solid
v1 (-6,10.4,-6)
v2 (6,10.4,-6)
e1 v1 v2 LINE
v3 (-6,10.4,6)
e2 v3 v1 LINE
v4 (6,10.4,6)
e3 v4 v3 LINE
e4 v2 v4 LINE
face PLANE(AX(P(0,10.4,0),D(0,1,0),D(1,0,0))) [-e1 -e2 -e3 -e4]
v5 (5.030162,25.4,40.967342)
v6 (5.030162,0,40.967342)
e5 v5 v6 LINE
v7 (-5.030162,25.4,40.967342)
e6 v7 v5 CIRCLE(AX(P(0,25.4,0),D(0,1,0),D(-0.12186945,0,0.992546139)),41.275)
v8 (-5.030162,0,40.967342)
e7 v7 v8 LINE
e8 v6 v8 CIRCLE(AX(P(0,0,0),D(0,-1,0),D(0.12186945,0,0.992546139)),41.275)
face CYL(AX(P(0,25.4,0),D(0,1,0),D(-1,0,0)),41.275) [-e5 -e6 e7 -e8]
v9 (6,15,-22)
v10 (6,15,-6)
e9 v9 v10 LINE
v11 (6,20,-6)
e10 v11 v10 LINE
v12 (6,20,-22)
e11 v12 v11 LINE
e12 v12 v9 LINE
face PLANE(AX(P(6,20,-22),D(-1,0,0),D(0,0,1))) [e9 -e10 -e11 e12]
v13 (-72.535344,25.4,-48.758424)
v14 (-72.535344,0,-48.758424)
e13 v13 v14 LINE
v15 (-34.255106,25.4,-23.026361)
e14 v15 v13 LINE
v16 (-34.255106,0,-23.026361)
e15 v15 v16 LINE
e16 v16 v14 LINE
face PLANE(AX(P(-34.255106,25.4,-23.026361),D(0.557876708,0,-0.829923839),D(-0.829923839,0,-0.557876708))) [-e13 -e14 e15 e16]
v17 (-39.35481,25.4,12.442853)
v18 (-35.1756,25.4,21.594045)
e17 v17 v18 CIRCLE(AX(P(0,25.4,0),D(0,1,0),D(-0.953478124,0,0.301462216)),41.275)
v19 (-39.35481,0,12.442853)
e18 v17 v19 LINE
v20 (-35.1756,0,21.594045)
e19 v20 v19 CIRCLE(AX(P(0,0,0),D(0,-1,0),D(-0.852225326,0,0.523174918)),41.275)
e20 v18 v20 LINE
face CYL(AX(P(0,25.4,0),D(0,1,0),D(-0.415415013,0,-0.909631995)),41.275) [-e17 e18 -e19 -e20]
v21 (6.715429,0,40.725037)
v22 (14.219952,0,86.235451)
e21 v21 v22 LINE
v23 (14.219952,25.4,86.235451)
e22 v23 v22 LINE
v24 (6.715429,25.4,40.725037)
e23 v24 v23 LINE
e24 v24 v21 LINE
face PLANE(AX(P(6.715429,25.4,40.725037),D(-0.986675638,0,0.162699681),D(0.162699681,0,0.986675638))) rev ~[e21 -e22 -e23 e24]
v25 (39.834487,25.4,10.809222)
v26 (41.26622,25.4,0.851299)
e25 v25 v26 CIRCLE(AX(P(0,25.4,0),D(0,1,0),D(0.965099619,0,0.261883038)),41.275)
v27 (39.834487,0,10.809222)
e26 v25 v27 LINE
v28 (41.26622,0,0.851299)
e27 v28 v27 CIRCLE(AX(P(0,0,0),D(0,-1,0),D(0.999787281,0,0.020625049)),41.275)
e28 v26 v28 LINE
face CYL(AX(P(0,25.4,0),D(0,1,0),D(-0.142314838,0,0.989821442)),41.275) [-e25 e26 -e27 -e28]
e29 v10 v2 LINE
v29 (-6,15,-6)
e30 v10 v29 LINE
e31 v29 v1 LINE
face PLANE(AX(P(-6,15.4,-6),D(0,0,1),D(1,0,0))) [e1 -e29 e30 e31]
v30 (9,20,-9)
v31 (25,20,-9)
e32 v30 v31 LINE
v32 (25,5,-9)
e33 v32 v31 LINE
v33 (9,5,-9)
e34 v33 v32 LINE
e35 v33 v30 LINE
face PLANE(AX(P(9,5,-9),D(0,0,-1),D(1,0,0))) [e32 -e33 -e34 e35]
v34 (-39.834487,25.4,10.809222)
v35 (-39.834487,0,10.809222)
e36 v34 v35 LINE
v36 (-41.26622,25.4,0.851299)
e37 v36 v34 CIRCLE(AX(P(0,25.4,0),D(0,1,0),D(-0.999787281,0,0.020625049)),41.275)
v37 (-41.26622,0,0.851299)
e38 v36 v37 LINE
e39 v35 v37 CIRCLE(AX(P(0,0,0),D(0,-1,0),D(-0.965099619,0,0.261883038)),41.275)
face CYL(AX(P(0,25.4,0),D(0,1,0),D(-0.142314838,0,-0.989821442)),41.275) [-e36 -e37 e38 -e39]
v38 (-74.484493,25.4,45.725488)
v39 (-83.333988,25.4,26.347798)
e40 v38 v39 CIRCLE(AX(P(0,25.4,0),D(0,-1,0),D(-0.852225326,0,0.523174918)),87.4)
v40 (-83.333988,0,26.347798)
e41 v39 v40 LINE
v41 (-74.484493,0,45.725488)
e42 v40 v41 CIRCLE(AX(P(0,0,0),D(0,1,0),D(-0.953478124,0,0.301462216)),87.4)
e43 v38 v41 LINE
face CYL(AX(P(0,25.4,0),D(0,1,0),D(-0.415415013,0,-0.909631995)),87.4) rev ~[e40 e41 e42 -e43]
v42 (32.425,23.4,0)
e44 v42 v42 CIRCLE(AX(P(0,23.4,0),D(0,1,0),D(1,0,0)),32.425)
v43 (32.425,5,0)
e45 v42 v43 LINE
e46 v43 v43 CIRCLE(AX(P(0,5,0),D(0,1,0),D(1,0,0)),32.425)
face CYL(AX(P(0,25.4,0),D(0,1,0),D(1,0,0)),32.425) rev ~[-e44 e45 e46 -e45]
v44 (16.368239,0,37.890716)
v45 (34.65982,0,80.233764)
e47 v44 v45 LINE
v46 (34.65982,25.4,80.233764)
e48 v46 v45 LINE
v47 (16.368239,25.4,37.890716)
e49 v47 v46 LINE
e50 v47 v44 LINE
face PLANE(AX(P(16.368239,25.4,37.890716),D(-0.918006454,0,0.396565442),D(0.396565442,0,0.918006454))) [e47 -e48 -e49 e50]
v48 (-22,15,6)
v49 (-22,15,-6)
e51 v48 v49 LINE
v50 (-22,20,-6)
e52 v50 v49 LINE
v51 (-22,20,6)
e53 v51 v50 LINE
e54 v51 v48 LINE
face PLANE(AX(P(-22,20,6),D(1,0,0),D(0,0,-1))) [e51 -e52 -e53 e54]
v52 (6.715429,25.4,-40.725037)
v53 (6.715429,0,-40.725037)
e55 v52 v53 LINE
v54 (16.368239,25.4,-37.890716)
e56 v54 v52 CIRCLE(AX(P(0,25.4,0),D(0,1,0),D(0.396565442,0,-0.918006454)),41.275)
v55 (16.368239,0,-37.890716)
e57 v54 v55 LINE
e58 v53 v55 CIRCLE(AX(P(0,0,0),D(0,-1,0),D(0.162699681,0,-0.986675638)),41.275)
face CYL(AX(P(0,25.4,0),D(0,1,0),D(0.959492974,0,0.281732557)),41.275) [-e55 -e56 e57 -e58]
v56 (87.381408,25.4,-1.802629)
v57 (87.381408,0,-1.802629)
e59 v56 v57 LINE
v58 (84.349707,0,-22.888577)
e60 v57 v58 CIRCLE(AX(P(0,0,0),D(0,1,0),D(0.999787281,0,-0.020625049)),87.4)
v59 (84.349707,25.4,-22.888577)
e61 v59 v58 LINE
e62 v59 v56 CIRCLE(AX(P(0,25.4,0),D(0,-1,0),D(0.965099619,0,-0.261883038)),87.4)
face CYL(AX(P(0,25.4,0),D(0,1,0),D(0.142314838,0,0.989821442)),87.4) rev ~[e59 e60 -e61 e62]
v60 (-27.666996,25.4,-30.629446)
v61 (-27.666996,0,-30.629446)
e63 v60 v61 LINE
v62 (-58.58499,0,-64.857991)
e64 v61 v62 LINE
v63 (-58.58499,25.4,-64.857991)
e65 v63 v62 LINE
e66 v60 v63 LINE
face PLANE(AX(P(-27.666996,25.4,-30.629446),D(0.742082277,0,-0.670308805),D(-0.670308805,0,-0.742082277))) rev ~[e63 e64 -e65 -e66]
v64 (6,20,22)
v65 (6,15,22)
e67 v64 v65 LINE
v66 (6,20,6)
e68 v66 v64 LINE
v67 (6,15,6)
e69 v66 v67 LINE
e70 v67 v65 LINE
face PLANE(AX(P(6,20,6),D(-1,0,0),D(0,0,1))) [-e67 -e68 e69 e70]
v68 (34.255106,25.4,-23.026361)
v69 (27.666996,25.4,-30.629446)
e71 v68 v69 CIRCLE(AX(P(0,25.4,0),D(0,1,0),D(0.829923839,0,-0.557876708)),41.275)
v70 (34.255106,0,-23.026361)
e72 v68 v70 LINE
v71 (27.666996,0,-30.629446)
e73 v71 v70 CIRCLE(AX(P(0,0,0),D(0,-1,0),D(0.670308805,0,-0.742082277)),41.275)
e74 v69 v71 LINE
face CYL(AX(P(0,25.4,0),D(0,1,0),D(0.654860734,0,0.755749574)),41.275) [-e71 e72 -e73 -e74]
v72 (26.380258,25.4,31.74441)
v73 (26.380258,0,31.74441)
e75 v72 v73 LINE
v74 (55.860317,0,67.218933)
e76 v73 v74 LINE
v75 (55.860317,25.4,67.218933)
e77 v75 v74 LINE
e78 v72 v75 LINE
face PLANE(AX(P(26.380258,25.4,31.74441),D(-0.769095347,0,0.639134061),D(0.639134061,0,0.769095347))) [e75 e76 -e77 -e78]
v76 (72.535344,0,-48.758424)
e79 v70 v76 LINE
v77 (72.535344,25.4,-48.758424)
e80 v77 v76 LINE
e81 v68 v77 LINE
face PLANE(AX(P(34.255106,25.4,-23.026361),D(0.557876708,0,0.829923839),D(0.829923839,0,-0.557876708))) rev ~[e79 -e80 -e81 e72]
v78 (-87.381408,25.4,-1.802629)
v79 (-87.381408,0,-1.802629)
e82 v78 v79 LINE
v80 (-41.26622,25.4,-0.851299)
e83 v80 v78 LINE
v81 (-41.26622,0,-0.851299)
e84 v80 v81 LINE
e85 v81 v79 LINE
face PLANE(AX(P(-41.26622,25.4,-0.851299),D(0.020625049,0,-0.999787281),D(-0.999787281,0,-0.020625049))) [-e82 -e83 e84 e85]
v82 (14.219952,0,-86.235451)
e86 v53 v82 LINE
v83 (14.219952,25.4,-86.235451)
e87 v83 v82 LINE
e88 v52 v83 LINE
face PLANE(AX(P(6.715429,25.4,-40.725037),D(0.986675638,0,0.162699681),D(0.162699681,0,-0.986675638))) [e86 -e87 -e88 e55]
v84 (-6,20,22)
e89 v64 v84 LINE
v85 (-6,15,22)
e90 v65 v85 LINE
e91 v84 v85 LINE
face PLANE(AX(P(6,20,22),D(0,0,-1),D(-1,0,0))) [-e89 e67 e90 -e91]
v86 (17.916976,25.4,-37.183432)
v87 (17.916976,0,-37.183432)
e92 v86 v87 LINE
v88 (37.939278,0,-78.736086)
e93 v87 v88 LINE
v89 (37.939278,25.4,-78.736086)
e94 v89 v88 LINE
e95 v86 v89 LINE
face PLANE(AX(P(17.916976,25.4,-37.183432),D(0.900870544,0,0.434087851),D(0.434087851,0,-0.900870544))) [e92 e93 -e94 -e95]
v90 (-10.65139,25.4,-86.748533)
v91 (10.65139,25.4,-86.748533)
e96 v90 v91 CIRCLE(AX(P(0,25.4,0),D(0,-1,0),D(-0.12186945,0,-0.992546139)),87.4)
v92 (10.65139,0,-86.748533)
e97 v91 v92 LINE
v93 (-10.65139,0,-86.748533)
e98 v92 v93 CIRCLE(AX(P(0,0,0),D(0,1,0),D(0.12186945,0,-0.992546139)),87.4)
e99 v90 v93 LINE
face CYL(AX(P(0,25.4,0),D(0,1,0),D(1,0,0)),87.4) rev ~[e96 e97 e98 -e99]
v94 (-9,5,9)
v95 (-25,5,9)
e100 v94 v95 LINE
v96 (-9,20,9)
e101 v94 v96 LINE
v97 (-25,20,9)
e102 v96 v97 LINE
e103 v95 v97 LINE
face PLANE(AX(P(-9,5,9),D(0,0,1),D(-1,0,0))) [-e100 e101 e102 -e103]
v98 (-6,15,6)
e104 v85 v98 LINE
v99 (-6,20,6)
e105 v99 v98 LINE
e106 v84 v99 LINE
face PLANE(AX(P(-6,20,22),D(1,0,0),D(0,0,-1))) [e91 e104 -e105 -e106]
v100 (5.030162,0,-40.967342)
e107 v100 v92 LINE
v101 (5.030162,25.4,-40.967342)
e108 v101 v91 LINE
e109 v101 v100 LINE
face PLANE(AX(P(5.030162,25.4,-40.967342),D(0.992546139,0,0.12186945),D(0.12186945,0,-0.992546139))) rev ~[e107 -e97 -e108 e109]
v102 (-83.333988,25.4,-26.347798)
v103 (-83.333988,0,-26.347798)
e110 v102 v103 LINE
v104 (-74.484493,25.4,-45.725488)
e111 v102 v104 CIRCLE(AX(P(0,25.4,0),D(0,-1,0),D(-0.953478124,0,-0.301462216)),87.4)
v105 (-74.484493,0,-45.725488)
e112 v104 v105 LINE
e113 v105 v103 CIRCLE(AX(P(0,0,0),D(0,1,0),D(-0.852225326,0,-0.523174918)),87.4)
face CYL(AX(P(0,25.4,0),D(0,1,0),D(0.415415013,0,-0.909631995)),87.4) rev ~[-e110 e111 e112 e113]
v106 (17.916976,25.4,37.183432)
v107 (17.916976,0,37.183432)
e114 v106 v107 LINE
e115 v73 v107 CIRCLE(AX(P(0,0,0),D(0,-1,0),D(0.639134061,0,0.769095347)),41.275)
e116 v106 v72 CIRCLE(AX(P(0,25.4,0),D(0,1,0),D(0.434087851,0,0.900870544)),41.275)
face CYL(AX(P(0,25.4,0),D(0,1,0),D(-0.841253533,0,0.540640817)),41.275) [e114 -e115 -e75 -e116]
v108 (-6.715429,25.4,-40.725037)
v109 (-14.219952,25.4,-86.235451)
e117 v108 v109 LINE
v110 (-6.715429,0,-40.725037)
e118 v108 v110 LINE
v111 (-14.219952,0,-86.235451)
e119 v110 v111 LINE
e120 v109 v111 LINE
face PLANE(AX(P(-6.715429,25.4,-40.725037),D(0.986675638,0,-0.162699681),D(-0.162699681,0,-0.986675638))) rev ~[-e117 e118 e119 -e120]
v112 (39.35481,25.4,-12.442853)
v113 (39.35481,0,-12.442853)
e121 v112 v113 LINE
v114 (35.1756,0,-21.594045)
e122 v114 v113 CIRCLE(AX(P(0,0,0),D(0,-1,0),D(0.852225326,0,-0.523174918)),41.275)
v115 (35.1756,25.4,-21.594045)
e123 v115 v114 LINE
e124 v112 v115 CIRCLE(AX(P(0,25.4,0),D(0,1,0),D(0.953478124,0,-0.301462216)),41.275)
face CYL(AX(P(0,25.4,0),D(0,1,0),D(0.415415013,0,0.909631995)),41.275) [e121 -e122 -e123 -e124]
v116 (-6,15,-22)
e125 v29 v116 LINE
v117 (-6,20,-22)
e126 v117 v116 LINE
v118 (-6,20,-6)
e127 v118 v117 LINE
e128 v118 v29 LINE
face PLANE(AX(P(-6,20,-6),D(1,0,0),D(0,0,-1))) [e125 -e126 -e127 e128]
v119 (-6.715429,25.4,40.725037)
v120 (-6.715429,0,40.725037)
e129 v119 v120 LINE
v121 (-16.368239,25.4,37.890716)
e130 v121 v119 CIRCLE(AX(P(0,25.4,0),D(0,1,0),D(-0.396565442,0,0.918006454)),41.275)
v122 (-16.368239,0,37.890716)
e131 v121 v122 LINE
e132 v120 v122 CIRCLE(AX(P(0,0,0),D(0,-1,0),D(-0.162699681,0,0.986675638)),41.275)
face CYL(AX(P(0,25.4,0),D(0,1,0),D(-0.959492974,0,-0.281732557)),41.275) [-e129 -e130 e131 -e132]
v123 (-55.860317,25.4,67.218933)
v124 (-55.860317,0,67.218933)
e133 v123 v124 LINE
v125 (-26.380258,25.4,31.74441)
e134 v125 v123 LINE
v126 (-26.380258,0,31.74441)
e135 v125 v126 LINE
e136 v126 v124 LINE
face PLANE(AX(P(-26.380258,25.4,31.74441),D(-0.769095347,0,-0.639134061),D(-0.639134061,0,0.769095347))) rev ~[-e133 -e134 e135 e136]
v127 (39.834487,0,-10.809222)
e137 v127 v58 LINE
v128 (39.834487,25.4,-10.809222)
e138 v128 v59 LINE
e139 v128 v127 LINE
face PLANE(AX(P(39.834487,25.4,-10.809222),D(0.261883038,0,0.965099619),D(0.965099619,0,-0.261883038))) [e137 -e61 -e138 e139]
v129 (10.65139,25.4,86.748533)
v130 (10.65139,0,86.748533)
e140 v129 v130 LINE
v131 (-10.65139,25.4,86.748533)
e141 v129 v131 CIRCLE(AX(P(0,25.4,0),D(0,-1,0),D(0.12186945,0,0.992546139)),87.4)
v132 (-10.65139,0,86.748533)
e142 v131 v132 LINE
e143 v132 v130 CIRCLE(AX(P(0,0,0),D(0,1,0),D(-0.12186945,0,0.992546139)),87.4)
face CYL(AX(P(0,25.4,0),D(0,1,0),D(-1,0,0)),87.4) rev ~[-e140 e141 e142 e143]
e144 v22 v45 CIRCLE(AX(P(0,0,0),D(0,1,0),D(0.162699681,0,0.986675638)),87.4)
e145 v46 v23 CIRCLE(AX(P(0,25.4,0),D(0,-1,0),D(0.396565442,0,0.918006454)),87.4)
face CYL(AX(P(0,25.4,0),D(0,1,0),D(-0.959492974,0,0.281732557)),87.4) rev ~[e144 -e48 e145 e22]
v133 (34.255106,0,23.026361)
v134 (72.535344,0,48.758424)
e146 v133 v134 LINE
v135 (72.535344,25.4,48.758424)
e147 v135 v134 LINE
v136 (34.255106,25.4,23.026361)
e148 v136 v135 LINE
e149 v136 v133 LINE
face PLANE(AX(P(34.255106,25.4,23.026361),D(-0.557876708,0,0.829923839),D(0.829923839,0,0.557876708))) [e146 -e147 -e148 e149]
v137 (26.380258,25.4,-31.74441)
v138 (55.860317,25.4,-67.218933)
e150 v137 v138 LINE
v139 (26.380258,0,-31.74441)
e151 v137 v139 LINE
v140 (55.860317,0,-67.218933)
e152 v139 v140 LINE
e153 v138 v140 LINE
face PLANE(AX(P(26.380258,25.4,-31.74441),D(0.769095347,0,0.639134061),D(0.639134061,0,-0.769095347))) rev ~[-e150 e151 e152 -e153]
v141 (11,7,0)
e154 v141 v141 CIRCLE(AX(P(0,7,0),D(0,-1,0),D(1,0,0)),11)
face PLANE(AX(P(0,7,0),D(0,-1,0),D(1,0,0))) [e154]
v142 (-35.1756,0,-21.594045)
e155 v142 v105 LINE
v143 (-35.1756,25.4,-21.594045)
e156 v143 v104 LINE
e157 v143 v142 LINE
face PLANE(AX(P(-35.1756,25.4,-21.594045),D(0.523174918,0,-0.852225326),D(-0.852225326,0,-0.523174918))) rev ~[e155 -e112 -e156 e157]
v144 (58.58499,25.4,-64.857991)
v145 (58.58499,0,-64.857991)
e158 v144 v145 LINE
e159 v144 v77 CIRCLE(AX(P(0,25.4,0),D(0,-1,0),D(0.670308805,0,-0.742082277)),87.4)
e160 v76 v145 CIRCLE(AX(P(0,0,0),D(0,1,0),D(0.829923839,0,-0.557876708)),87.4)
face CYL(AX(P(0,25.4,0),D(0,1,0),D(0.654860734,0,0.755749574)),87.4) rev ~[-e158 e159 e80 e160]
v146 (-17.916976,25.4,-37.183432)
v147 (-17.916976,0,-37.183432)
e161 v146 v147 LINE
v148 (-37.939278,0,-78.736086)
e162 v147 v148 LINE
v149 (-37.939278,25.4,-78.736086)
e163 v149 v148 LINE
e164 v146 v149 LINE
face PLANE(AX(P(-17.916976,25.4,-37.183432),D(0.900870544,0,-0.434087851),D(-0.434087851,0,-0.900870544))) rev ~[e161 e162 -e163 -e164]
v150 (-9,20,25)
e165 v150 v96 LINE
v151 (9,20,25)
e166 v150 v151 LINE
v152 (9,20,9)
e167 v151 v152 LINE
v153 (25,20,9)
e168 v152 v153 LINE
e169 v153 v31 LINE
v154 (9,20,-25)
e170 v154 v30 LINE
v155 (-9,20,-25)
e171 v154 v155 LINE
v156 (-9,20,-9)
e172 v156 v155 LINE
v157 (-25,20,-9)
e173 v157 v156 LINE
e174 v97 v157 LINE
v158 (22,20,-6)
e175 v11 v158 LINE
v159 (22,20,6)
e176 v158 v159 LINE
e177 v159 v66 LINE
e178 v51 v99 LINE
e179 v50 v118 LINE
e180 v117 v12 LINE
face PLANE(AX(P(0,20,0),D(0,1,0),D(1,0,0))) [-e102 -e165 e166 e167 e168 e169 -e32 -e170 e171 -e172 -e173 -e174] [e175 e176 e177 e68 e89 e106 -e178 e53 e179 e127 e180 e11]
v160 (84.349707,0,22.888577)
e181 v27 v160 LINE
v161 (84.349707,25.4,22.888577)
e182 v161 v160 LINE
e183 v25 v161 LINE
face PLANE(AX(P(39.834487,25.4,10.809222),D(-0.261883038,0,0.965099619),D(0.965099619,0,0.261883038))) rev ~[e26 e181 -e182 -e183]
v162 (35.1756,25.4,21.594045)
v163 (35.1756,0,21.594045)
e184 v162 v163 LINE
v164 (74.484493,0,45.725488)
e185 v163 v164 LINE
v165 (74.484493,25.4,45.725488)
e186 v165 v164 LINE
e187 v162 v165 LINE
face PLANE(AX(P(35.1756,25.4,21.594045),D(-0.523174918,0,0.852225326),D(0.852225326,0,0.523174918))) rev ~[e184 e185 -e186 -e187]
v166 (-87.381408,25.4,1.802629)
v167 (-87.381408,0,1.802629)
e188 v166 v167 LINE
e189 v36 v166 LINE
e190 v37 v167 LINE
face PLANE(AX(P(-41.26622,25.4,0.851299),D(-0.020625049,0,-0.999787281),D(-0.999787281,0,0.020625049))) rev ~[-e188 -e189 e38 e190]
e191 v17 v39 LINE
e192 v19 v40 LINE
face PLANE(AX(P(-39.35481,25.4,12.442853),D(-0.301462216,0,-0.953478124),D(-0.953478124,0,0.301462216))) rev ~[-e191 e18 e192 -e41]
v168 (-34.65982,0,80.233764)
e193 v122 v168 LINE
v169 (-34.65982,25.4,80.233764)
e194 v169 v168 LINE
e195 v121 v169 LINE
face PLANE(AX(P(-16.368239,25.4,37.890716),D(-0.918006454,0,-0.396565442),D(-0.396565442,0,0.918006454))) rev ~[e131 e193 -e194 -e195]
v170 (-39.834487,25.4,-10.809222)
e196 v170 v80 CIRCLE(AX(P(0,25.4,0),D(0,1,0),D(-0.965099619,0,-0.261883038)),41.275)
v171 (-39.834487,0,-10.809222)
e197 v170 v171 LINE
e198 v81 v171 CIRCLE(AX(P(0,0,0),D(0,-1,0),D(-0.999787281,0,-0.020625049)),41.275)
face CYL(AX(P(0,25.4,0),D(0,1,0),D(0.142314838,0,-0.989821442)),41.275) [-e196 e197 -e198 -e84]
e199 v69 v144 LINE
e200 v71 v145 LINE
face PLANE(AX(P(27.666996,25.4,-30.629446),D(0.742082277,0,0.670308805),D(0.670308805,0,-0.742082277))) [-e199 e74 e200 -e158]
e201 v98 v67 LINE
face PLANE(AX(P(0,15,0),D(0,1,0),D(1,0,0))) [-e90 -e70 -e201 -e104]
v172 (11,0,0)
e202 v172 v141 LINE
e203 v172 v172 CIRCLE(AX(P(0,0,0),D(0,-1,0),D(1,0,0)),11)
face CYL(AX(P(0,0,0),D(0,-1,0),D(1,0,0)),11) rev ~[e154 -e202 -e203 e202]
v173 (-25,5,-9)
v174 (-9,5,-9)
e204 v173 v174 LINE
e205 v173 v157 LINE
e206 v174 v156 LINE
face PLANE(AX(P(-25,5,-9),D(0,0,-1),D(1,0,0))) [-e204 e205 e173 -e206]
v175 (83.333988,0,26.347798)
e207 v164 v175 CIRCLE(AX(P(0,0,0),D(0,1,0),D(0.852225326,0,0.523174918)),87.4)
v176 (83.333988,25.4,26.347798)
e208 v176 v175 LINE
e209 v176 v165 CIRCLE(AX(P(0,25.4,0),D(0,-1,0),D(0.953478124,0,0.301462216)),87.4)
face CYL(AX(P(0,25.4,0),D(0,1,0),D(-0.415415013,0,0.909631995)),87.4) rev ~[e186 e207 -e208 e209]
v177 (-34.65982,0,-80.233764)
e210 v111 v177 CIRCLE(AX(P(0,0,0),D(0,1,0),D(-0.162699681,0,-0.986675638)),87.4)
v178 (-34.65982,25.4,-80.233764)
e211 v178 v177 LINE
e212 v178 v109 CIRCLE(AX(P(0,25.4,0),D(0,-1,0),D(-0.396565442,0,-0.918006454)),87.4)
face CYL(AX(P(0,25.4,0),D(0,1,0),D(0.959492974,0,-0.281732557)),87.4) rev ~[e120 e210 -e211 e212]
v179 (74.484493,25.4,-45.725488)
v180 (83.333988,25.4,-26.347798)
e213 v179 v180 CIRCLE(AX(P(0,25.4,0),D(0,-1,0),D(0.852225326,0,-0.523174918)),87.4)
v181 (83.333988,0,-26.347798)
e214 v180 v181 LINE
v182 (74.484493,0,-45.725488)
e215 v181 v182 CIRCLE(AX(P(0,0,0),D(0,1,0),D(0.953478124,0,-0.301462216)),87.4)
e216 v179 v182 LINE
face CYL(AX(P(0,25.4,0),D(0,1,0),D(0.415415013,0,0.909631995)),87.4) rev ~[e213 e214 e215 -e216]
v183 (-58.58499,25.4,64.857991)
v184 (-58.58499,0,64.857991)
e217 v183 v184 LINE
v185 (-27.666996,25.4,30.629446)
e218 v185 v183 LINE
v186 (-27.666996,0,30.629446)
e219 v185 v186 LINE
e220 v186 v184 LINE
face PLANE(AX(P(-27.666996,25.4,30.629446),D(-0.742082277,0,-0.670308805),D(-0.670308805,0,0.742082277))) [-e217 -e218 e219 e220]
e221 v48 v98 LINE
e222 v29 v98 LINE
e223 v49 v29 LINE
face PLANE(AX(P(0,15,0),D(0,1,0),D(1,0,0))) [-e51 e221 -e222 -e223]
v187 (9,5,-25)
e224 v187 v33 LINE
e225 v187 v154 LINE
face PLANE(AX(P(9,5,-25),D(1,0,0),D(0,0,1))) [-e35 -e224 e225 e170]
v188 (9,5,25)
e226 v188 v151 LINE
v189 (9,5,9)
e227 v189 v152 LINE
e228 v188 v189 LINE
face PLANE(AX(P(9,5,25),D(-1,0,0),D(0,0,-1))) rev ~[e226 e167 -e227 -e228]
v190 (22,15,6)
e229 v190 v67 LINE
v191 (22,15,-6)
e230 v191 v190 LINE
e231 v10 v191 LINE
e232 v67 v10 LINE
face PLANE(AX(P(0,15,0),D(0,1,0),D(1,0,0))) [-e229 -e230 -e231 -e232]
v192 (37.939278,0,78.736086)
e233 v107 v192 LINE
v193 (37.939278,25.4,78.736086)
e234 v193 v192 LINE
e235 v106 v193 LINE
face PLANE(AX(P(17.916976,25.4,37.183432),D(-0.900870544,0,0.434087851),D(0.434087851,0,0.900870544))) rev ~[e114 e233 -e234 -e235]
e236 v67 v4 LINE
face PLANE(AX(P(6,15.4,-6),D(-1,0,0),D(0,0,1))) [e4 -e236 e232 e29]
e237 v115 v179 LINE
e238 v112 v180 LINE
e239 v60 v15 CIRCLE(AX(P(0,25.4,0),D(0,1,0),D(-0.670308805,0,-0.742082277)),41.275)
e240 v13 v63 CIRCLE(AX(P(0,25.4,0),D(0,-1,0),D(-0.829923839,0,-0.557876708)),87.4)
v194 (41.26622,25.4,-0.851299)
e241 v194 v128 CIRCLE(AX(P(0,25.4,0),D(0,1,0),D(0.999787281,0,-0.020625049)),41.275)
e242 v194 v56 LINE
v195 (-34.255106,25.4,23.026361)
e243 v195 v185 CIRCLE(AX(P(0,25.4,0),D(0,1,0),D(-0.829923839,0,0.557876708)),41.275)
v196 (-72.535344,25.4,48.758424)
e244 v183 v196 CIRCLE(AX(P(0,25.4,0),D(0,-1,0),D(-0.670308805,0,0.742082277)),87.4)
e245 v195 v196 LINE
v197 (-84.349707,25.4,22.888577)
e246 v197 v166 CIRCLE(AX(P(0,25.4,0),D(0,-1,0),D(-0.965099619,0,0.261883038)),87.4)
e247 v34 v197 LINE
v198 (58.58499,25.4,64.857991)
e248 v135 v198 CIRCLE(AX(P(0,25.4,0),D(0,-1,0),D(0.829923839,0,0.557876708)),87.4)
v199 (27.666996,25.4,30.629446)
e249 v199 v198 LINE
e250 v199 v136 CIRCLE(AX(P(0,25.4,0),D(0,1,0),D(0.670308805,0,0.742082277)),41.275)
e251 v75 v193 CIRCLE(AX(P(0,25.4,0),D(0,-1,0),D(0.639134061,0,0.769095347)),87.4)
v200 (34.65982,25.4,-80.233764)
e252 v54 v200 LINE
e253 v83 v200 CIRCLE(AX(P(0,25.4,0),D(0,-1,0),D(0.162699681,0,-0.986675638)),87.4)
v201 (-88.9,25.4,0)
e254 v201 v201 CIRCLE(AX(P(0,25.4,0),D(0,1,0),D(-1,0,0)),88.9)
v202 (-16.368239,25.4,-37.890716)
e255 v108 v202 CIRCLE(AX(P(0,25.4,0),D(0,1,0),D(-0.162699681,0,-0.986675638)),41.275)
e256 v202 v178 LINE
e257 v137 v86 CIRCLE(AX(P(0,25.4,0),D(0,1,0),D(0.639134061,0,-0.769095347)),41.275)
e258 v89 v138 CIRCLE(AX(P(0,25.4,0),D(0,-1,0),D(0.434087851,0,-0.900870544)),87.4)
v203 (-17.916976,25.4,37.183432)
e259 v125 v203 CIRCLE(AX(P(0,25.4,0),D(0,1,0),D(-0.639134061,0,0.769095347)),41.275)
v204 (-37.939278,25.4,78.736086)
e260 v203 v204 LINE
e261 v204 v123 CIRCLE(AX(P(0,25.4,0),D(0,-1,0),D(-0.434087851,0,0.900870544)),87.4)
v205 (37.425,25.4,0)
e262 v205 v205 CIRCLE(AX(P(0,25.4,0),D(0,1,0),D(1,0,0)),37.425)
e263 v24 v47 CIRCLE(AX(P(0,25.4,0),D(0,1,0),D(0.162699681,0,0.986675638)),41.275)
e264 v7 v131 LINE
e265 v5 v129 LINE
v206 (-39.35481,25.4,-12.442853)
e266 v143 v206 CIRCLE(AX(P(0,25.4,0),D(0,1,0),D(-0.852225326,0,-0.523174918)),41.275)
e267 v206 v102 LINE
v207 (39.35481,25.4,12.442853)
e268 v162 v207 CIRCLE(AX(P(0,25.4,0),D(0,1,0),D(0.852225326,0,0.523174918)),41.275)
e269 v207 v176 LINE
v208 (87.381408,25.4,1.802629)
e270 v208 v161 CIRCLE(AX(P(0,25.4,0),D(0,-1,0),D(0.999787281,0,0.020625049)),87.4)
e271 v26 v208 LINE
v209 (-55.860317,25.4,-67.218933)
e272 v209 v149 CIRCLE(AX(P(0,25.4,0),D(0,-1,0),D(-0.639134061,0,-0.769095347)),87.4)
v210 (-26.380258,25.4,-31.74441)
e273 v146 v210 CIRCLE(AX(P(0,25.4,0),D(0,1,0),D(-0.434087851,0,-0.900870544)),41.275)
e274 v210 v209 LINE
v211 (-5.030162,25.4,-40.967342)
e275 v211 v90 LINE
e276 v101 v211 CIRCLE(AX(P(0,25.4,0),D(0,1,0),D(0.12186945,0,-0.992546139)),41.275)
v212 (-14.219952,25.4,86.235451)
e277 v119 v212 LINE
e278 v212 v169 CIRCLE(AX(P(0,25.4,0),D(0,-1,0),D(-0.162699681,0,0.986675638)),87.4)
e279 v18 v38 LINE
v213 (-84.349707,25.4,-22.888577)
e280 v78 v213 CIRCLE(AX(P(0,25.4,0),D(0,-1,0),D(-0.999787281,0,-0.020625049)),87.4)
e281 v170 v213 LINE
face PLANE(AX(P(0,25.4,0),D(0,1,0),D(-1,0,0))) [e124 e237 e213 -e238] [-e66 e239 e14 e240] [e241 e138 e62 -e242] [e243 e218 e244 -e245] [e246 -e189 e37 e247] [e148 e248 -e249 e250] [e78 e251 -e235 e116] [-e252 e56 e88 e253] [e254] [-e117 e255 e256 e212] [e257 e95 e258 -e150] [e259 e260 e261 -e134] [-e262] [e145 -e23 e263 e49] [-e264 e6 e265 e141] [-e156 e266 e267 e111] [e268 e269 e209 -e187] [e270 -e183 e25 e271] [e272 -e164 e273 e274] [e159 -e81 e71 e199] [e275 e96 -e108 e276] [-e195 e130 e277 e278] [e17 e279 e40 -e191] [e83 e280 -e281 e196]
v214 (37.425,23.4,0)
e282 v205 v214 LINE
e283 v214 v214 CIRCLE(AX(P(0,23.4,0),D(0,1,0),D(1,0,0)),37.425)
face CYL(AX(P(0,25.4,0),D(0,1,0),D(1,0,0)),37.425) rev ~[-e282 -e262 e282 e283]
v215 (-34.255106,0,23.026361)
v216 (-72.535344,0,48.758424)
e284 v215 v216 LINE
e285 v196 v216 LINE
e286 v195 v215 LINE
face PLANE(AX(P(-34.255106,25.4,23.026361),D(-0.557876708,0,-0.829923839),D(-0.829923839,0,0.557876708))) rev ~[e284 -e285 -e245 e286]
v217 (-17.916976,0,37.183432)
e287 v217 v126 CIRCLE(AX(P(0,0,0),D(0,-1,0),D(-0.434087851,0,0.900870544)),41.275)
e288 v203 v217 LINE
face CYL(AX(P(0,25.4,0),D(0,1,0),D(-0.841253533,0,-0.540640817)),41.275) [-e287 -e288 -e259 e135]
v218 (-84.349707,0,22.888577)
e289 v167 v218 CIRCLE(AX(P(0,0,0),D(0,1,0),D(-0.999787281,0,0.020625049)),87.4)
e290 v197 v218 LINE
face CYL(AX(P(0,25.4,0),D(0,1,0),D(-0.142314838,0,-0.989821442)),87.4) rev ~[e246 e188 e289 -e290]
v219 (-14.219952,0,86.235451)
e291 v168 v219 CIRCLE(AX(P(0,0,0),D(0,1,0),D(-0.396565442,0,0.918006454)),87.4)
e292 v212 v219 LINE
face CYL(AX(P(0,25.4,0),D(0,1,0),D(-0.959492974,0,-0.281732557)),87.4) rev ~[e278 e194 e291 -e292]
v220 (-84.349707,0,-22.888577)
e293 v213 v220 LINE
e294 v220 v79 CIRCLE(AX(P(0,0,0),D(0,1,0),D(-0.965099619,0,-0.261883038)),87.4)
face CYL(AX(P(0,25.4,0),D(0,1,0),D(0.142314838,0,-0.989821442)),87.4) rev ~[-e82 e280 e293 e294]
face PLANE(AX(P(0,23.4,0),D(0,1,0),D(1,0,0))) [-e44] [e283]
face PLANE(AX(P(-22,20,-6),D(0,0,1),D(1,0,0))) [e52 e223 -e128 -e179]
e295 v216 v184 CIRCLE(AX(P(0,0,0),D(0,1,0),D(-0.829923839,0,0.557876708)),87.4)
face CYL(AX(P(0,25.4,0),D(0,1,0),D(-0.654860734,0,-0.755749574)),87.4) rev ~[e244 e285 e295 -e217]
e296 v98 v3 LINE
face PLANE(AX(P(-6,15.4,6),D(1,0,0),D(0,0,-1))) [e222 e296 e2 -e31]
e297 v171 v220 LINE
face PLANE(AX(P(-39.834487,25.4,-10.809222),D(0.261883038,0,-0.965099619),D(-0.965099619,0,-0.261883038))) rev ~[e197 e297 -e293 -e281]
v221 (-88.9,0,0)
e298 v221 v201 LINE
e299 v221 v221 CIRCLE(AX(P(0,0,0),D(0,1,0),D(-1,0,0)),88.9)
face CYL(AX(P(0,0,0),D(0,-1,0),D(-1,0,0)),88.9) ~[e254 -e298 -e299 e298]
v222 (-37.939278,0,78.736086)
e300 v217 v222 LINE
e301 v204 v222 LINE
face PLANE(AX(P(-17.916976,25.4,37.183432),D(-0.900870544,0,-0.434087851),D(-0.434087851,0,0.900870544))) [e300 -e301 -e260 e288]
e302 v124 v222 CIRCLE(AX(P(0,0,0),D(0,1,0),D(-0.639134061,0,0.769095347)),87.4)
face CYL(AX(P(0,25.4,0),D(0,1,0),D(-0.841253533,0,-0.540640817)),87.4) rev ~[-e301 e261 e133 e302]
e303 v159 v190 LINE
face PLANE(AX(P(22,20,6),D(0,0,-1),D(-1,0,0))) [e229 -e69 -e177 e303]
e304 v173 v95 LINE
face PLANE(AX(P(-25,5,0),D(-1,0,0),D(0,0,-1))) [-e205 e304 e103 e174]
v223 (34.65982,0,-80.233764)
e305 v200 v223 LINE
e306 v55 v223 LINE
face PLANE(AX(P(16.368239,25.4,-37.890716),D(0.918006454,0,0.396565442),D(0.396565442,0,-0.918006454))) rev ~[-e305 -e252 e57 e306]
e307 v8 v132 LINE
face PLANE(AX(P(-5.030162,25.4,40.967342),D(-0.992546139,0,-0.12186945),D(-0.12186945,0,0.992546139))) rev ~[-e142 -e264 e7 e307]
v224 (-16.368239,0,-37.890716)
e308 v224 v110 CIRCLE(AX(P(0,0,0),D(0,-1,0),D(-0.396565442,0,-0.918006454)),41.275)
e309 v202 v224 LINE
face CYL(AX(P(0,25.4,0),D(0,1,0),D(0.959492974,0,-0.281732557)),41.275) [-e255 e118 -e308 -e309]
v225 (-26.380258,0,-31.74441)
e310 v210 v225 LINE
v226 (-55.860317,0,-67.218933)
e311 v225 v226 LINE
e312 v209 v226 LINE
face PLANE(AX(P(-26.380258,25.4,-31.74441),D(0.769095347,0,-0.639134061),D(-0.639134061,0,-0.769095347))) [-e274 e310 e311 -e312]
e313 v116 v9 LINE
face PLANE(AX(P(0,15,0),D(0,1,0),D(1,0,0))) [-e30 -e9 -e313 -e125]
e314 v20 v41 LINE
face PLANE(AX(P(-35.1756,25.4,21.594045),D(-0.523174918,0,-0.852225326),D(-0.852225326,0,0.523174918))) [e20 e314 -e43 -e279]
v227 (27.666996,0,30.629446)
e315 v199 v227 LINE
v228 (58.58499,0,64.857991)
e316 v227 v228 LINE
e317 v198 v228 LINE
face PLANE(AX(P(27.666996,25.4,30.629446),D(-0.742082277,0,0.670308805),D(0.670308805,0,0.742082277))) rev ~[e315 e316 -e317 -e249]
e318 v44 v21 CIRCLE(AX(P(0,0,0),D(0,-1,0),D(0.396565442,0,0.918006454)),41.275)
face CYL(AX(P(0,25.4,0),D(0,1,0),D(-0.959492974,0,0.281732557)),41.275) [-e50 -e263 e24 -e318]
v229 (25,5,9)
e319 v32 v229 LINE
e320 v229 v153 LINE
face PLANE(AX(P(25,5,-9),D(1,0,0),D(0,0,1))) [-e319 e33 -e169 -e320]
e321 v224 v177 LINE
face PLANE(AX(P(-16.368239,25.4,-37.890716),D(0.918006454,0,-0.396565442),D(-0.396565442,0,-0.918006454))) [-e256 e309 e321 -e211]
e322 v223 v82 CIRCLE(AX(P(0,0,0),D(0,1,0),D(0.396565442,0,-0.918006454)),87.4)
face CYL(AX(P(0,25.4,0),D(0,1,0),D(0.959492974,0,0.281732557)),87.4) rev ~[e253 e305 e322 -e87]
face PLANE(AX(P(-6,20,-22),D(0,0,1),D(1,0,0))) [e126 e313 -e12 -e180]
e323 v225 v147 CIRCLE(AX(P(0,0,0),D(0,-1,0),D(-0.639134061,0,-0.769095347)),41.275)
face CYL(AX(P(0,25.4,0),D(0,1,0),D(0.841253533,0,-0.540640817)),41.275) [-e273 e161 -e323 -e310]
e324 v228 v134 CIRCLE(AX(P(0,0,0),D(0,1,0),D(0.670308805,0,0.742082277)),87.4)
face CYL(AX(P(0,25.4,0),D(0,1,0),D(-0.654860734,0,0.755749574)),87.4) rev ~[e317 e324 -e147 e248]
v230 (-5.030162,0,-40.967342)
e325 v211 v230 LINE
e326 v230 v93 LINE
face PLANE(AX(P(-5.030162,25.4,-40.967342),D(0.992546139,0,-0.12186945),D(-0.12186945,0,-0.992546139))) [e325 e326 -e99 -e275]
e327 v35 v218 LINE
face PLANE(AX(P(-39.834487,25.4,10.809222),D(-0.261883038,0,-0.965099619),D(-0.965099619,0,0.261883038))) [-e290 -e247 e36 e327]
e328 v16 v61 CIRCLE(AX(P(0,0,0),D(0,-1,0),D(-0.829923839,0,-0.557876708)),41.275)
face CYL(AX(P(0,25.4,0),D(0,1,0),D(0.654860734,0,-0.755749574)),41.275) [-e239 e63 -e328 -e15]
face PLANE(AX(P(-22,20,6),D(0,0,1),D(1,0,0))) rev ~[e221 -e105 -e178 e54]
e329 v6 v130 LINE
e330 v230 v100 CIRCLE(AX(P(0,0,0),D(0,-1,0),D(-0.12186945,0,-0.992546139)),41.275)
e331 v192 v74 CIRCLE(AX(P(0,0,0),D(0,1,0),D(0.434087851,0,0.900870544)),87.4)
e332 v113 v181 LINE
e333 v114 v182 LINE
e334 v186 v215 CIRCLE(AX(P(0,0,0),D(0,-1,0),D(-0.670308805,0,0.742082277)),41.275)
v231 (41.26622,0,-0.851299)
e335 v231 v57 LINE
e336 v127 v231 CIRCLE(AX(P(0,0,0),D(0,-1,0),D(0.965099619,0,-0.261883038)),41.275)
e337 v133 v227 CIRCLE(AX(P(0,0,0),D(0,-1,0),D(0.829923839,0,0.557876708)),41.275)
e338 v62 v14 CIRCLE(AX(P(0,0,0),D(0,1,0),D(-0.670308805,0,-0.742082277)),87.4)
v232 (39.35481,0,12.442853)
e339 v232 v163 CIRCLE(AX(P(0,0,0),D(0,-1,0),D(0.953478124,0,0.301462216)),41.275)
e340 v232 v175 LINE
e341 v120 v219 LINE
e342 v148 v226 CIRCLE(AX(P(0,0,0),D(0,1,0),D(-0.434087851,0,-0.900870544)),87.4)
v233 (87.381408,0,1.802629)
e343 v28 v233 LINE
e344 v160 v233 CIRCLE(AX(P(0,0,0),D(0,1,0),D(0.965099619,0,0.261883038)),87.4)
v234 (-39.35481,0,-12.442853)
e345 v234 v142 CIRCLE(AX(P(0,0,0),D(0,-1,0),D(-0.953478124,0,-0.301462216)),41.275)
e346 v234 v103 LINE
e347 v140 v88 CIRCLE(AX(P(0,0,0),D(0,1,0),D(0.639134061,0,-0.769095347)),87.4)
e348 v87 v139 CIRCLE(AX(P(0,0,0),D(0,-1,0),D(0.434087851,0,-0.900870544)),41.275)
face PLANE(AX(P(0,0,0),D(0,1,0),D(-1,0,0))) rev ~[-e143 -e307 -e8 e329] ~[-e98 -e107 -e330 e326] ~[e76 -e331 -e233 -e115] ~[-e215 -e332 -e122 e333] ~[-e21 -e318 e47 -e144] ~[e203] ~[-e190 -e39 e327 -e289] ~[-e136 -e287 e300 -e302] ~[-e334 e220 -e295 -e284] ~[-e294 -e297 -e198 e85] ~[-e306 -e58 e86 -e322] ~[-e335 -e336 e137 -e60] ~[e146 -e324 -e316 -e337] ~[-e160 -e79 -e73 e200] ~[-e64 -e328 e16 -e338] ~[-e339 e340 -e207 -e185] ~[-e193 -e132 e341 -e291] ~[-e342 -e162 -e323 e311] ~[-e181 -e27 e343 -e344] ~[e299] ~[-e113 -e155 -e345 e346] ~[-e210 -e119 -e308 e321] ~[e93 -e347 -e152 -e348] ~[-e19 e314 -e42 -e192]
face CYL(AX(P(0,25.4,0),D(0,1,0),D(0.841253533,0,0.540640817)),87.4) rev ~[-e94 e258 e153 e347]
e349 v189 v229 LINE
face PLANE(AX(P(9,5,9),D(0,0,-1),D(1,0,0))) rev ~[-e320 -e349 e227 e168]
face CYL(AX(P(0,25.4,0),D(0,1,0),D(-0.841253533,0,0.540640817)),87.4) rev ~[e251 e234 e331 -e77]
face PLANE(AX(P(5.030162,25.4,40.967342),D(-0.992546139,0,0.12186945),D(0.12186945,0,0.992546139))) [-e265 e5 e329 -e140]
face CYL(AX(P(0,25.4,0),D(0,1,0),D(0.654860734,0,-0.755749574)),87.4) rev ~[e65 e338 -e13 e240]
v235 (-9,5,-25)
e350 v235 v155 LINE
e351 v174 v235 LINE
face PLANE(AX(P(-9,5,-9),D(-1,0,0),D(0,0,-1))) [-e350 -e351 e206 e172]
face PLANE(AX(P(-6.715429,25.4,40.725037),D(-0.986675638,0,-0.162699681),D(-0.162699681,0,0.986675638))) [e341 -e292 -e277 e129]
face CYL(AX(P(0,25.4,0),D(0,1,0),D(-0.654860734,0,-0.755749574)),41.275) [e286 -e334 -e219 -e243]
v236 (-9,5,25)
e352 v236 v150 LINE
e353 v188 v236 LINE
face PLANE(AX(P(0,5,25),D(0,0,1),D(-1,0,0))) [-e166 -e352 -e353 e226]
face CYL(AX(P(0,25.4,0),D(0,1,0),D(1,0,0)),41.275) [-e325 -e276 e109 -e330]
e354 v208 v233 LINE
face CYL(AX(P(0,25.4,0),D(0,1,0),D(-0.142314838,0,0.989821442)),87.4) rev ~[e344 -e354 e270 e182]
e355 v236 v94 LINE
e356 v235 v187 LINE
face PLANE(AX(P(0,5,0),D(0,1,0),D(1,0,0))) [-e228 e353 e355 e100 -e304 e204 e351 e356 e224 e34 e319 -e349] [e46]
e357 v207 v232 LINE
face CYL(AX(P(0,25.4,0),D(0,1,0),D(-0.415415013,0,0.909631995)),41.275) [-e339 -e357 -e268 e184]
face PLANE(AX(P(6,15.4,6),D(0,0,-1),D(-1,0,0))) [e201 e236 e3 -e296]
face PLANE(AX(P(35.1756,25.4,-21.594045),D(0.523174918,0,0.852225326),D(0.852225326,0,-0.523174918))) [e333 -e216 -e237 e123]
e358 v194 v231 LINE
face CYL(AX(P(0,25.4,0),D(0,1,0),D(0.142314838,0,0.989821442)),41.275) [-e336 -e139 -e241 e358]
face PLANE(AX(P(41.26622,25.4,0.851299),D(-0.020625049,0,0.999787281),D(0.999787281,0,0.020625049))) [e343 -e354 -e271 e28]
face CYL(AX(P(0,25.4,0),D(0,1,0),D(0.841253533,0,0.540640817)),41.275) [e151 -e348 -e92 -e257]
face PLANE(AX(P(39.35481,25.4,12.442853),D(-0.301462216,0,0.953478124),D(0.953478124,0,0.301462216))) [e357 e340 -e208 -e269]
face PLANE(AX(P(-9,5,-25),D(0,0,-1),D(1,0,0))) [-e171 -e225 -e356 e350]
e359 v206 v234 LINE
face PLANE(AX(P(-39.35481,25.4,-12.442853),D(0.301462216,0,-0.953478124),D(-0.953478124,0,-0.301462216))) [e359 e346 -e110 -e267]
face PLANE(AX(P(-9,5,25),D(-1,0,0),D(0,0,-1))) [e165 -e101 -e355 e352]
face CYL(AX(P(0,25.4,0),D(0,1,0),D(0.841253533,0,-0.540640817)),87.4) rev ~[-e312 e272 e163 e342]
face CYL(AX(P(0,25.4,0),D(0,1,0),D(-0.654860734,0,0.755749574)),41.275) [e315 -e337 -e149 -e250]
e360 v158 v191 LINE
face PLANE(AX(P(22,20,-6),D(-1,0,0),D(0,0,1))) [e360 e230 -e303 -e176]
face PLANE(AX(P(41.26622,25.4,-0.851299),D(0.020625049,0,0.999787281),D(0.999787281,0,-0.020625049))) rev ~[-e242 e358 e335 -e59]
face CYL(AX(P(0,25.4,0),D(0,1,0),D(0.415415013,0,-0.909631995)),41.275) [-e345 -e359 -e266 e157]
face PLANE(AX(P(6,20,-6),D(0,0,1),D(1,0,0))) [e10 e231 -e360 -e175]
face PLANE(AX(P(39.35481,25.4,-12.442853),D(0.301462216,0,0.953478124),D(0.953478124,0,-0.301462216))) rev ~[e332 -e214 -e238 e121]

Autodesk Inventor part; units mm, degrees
ref_plane "YZ Plane" through (0, 0, 0) normal (1, 0, 0) x (0, 1, 0)
sketch "Sketch1" plane through (0, 0, 0) normal (0, 1, 0) x (-1, 0, 0)
  circle A0 centre (0, 0) radius 88.9
  dimension "d0" = 177.8
extrude "Extrusion1" add sketch "Sketch1" along normal blind 25.4
sketch "Sketch2" plane through (0, 25.4, 0) normal (0, 1, 0) x (1, 0, 0)
  circle A0 centre (0, 0) radius 87.4
  line L0 (0, 0) -> (-10.8342, 88.2374)
  circle A1 centre (0, 0) radius 88.9 projected
  line L1 (0, 0) -> (10.8342, 88.2374)
  circle A2 centre (0, 0) radius 34.925
  line L2 (0, 0) -> (0, 88.9)
  circle A3 centre (0, 0) radius 41.275
  point P0 (-4.2563, 34.6647)
  point P1 (4.2563, 34.6647)
  point P2 (10.6514, 86.7485)
  point P3 (-10.6514, 86.7485)
  point P4 (-5.0302, 40.9673)
  point P5 (5.0302, 40.9673)
  dimension "d3" = 174.8
  dimension "d4" = 69.85
  dimension "d10" = 14
  dimension "d11" = 7
  dimension "d45" = 82.55
extrude "Extrusion2" cut sketch "Sketch2" against normal blind 25.4 contours L1 A3 L2 A0 | A0 L2 A3 L0
pattern_circular "Circular Pattern1" count 22 over 360 about axis through (0, 0, 0) along (0, 1, 0) of "Extrusion2"
sketch "Sketch4" plane through (0, 25.4, 0) normal (0, 1, 0) x (1, 0, 0)
  circle A0 centre (0, 0) radius 32.425
  dimension "d16" = 64.85
extrude "Extrusion3" cut sketch "Sketch4" against normal blind 20.4
ref_plane "Work Plane1" through (0, 5, 0) normal (0, 1, 0) x (1, 0, 0)
sketch "Sketch5" plane through (0, 5, 0) normal (0, 1, 0) x (1, 0, 0)
  line L0 (0, 0) -> (0, 25)
  line L1 (0, 0) -> (-25, 0)
  line L2 (0, 0) -> (0, -25)
  line L3 (0, 0) -> (25, 0)
  line L4 (25, 0) -> (25, -9)
  line L5 (0, -25) -> (9, -25)
  line L6 (9, -25) -> (9, -9)
  line L7 (9, -9) -> (25, -9)
  line L8 (0, -25) -> (-9, -25)
  line L9 (-9, -25) -> (-9, -9)
  line L10 (-9, -9) -> (-25, -9)
  line L11 (-25, -9) -> (-25, 0)
  line L12 (-25, 0) -> (-25, 9)
  line L13 (-25, 9) -> (-9, 9)
  line L14 (-9, 9) -> (-9, 25)
  line L15 (-9, 25) -> (0, 25)
  line L16 (9, 25) -> (0, 25)
  line L17 (9, 25) -> (9, 9)
  line L18 (9, 9) -> (25, 9)
  line L19 (25, 9) -> (25, 0)
  dimension "d65" = 25
  dimension "d66" = 25
  dimension "d67" = 25
  dimension "d68" = 25
  dimension "d69" = 9
  dimension "d70" = 9
  dimension "d71" = 9
  dimension "d72" = 9
  dimension "d85" = 9
  dimension "d86" = 9
  dimension "d87" = 9
  dimension "d88" = 9
extrude "Extrusion4" add sketch "Sketch5" along normal blind 15
ref_plane "Work Plane3" through (0, 15.4, 0) normal (0, 1, 0) x (1, 0, 0)
sketch "Sketch21" plane through (0, 25.4, 0) normal (0, 1, 0) x (1, 0, 0)
  circle A0 centre (0, 0) radius 32.425
  circle A1 centre (0, 0) radius 37.425
  dimension "d51" = 64.85
  dimension "d52" = 74.85
extrude "Extrusion8" cut sketch "Sketch21" against normal blind 2
sketch "Sketch23" plane through (0, 0, 0) normal (0, -1, 0) x (1, 0, 0)
  circle A0 centre (0, 0) radius 11
  dimension "d60" = 22
extrude "Extrusion10" cut sketch "Sketch23" against normal blind 7
sketch "Sketch7" plane through (0, 15.4, 0) normal (0, 1, 0) x (1, 0, 0)
  line L0 (-6, 6) -> (6, 6)
  line L1 (6, 6) -> (6, -6)
  line L2 (6, -6) -> (-6, -6)
  line L3 (-6, -6) -> (-6, 6)
  line L4 (-15, 15) -> (15, 15) projected
  line L5 (15, 15) -> (15, -15) projected
  line L6 (-15, -15) -> (-15, 15) projected
  line L7 (15, -15) -> (-15, -15) projected
  point P0 (0, 0)
  dimension "d32" = 9
  dimension "d33" = 9
  dimension "d34" = 9
  dimension "d35" = 9
extrude "Extrusion6" cut sketch "Sketch7" against normal blind 5 contours L0 L1 L2 L3
sketch "Sketch25" plane through (0, 20, 0) normal (0, 1, 0) x (1, 0, 0)
  line L0 (-22, 6) -> (-6, 6)
  line L1 (-6, 6) -> (-6, 22)
  line L2 (-6, 22) -> (6, 22)
  line L3 (6, 22) -> (6, 6)
  line L4 (6, 6) -> (22, 6)
  line L5 (22, 6) -> (22, -6)
  line L6 (22, -6) -> (6, -6)
  line L7 (6, -6) -> (6, -22)
  line L8 (6, -22) -> (-6, -22)
  line L9 (-6, -22) -> (-6, -6)
  line L10 (-22, -6) -> (-6, -6)
  line L11 (-22, -6) -> (-22, 6)
  line L12 (-9, 25) -> (-9, 9) projected
  line L13 (9, 25) -> (-9, 25) projected
  line L14 (9, 9) -> (9, 25) projected
  line L15 (9, 9) -> (25, 9) projected
  line L16 (9, -9) -> (25, -9) projected
  line L17 (25, -9) -> (25, 9) projected
  line L18 (9, -25) -> (9, -9) projected
  line L19 (-9, -25) -> (9, -25) projected
  line L20 (-9, -9) -> (-9, -25) projected
  line L21 (-25, -9) -> (-9, -9) projected
  line L22 (-25, 9) -> (-25, -9) projected
  line L23 (-9, 9) -> (-25, 9) projected
  point P0 (0, 0)
  dimension "d73" = 3
  dimension "d74" = 3
  dimension "d75" = 3
  dimension "d76" = 3
  dimension "d77" = 3
  dimension "d78" = 3
  dimension "d79" = 3
  dimension "d80" = 3
  dimension "d81" = 3
  dimension "d82" = 3
  dimension "d83" = 3
  dimension "d84" = 3
extrude "Extrusion11" cut sketch "Sketch25" against normal blind 5 contours L0 L1 L2 L3 L4 L5 L6 L7 L8 L9 L10 L11
equation "\"d11\" = 0.5 * d10"
equation "\"d33\" = d32"
equation "\"d34\" = d32"
equation "\"d35\" = d32"
equation "\"d75\" = d73"
equation "\"d76\" = d73"
equation "\"d77\" = d73"
equation "\"d78\" = d73"
equation "\"d80\" = d73"
equation "\"d83\" = d73"
properties part number "Capsule_Design_Final"
